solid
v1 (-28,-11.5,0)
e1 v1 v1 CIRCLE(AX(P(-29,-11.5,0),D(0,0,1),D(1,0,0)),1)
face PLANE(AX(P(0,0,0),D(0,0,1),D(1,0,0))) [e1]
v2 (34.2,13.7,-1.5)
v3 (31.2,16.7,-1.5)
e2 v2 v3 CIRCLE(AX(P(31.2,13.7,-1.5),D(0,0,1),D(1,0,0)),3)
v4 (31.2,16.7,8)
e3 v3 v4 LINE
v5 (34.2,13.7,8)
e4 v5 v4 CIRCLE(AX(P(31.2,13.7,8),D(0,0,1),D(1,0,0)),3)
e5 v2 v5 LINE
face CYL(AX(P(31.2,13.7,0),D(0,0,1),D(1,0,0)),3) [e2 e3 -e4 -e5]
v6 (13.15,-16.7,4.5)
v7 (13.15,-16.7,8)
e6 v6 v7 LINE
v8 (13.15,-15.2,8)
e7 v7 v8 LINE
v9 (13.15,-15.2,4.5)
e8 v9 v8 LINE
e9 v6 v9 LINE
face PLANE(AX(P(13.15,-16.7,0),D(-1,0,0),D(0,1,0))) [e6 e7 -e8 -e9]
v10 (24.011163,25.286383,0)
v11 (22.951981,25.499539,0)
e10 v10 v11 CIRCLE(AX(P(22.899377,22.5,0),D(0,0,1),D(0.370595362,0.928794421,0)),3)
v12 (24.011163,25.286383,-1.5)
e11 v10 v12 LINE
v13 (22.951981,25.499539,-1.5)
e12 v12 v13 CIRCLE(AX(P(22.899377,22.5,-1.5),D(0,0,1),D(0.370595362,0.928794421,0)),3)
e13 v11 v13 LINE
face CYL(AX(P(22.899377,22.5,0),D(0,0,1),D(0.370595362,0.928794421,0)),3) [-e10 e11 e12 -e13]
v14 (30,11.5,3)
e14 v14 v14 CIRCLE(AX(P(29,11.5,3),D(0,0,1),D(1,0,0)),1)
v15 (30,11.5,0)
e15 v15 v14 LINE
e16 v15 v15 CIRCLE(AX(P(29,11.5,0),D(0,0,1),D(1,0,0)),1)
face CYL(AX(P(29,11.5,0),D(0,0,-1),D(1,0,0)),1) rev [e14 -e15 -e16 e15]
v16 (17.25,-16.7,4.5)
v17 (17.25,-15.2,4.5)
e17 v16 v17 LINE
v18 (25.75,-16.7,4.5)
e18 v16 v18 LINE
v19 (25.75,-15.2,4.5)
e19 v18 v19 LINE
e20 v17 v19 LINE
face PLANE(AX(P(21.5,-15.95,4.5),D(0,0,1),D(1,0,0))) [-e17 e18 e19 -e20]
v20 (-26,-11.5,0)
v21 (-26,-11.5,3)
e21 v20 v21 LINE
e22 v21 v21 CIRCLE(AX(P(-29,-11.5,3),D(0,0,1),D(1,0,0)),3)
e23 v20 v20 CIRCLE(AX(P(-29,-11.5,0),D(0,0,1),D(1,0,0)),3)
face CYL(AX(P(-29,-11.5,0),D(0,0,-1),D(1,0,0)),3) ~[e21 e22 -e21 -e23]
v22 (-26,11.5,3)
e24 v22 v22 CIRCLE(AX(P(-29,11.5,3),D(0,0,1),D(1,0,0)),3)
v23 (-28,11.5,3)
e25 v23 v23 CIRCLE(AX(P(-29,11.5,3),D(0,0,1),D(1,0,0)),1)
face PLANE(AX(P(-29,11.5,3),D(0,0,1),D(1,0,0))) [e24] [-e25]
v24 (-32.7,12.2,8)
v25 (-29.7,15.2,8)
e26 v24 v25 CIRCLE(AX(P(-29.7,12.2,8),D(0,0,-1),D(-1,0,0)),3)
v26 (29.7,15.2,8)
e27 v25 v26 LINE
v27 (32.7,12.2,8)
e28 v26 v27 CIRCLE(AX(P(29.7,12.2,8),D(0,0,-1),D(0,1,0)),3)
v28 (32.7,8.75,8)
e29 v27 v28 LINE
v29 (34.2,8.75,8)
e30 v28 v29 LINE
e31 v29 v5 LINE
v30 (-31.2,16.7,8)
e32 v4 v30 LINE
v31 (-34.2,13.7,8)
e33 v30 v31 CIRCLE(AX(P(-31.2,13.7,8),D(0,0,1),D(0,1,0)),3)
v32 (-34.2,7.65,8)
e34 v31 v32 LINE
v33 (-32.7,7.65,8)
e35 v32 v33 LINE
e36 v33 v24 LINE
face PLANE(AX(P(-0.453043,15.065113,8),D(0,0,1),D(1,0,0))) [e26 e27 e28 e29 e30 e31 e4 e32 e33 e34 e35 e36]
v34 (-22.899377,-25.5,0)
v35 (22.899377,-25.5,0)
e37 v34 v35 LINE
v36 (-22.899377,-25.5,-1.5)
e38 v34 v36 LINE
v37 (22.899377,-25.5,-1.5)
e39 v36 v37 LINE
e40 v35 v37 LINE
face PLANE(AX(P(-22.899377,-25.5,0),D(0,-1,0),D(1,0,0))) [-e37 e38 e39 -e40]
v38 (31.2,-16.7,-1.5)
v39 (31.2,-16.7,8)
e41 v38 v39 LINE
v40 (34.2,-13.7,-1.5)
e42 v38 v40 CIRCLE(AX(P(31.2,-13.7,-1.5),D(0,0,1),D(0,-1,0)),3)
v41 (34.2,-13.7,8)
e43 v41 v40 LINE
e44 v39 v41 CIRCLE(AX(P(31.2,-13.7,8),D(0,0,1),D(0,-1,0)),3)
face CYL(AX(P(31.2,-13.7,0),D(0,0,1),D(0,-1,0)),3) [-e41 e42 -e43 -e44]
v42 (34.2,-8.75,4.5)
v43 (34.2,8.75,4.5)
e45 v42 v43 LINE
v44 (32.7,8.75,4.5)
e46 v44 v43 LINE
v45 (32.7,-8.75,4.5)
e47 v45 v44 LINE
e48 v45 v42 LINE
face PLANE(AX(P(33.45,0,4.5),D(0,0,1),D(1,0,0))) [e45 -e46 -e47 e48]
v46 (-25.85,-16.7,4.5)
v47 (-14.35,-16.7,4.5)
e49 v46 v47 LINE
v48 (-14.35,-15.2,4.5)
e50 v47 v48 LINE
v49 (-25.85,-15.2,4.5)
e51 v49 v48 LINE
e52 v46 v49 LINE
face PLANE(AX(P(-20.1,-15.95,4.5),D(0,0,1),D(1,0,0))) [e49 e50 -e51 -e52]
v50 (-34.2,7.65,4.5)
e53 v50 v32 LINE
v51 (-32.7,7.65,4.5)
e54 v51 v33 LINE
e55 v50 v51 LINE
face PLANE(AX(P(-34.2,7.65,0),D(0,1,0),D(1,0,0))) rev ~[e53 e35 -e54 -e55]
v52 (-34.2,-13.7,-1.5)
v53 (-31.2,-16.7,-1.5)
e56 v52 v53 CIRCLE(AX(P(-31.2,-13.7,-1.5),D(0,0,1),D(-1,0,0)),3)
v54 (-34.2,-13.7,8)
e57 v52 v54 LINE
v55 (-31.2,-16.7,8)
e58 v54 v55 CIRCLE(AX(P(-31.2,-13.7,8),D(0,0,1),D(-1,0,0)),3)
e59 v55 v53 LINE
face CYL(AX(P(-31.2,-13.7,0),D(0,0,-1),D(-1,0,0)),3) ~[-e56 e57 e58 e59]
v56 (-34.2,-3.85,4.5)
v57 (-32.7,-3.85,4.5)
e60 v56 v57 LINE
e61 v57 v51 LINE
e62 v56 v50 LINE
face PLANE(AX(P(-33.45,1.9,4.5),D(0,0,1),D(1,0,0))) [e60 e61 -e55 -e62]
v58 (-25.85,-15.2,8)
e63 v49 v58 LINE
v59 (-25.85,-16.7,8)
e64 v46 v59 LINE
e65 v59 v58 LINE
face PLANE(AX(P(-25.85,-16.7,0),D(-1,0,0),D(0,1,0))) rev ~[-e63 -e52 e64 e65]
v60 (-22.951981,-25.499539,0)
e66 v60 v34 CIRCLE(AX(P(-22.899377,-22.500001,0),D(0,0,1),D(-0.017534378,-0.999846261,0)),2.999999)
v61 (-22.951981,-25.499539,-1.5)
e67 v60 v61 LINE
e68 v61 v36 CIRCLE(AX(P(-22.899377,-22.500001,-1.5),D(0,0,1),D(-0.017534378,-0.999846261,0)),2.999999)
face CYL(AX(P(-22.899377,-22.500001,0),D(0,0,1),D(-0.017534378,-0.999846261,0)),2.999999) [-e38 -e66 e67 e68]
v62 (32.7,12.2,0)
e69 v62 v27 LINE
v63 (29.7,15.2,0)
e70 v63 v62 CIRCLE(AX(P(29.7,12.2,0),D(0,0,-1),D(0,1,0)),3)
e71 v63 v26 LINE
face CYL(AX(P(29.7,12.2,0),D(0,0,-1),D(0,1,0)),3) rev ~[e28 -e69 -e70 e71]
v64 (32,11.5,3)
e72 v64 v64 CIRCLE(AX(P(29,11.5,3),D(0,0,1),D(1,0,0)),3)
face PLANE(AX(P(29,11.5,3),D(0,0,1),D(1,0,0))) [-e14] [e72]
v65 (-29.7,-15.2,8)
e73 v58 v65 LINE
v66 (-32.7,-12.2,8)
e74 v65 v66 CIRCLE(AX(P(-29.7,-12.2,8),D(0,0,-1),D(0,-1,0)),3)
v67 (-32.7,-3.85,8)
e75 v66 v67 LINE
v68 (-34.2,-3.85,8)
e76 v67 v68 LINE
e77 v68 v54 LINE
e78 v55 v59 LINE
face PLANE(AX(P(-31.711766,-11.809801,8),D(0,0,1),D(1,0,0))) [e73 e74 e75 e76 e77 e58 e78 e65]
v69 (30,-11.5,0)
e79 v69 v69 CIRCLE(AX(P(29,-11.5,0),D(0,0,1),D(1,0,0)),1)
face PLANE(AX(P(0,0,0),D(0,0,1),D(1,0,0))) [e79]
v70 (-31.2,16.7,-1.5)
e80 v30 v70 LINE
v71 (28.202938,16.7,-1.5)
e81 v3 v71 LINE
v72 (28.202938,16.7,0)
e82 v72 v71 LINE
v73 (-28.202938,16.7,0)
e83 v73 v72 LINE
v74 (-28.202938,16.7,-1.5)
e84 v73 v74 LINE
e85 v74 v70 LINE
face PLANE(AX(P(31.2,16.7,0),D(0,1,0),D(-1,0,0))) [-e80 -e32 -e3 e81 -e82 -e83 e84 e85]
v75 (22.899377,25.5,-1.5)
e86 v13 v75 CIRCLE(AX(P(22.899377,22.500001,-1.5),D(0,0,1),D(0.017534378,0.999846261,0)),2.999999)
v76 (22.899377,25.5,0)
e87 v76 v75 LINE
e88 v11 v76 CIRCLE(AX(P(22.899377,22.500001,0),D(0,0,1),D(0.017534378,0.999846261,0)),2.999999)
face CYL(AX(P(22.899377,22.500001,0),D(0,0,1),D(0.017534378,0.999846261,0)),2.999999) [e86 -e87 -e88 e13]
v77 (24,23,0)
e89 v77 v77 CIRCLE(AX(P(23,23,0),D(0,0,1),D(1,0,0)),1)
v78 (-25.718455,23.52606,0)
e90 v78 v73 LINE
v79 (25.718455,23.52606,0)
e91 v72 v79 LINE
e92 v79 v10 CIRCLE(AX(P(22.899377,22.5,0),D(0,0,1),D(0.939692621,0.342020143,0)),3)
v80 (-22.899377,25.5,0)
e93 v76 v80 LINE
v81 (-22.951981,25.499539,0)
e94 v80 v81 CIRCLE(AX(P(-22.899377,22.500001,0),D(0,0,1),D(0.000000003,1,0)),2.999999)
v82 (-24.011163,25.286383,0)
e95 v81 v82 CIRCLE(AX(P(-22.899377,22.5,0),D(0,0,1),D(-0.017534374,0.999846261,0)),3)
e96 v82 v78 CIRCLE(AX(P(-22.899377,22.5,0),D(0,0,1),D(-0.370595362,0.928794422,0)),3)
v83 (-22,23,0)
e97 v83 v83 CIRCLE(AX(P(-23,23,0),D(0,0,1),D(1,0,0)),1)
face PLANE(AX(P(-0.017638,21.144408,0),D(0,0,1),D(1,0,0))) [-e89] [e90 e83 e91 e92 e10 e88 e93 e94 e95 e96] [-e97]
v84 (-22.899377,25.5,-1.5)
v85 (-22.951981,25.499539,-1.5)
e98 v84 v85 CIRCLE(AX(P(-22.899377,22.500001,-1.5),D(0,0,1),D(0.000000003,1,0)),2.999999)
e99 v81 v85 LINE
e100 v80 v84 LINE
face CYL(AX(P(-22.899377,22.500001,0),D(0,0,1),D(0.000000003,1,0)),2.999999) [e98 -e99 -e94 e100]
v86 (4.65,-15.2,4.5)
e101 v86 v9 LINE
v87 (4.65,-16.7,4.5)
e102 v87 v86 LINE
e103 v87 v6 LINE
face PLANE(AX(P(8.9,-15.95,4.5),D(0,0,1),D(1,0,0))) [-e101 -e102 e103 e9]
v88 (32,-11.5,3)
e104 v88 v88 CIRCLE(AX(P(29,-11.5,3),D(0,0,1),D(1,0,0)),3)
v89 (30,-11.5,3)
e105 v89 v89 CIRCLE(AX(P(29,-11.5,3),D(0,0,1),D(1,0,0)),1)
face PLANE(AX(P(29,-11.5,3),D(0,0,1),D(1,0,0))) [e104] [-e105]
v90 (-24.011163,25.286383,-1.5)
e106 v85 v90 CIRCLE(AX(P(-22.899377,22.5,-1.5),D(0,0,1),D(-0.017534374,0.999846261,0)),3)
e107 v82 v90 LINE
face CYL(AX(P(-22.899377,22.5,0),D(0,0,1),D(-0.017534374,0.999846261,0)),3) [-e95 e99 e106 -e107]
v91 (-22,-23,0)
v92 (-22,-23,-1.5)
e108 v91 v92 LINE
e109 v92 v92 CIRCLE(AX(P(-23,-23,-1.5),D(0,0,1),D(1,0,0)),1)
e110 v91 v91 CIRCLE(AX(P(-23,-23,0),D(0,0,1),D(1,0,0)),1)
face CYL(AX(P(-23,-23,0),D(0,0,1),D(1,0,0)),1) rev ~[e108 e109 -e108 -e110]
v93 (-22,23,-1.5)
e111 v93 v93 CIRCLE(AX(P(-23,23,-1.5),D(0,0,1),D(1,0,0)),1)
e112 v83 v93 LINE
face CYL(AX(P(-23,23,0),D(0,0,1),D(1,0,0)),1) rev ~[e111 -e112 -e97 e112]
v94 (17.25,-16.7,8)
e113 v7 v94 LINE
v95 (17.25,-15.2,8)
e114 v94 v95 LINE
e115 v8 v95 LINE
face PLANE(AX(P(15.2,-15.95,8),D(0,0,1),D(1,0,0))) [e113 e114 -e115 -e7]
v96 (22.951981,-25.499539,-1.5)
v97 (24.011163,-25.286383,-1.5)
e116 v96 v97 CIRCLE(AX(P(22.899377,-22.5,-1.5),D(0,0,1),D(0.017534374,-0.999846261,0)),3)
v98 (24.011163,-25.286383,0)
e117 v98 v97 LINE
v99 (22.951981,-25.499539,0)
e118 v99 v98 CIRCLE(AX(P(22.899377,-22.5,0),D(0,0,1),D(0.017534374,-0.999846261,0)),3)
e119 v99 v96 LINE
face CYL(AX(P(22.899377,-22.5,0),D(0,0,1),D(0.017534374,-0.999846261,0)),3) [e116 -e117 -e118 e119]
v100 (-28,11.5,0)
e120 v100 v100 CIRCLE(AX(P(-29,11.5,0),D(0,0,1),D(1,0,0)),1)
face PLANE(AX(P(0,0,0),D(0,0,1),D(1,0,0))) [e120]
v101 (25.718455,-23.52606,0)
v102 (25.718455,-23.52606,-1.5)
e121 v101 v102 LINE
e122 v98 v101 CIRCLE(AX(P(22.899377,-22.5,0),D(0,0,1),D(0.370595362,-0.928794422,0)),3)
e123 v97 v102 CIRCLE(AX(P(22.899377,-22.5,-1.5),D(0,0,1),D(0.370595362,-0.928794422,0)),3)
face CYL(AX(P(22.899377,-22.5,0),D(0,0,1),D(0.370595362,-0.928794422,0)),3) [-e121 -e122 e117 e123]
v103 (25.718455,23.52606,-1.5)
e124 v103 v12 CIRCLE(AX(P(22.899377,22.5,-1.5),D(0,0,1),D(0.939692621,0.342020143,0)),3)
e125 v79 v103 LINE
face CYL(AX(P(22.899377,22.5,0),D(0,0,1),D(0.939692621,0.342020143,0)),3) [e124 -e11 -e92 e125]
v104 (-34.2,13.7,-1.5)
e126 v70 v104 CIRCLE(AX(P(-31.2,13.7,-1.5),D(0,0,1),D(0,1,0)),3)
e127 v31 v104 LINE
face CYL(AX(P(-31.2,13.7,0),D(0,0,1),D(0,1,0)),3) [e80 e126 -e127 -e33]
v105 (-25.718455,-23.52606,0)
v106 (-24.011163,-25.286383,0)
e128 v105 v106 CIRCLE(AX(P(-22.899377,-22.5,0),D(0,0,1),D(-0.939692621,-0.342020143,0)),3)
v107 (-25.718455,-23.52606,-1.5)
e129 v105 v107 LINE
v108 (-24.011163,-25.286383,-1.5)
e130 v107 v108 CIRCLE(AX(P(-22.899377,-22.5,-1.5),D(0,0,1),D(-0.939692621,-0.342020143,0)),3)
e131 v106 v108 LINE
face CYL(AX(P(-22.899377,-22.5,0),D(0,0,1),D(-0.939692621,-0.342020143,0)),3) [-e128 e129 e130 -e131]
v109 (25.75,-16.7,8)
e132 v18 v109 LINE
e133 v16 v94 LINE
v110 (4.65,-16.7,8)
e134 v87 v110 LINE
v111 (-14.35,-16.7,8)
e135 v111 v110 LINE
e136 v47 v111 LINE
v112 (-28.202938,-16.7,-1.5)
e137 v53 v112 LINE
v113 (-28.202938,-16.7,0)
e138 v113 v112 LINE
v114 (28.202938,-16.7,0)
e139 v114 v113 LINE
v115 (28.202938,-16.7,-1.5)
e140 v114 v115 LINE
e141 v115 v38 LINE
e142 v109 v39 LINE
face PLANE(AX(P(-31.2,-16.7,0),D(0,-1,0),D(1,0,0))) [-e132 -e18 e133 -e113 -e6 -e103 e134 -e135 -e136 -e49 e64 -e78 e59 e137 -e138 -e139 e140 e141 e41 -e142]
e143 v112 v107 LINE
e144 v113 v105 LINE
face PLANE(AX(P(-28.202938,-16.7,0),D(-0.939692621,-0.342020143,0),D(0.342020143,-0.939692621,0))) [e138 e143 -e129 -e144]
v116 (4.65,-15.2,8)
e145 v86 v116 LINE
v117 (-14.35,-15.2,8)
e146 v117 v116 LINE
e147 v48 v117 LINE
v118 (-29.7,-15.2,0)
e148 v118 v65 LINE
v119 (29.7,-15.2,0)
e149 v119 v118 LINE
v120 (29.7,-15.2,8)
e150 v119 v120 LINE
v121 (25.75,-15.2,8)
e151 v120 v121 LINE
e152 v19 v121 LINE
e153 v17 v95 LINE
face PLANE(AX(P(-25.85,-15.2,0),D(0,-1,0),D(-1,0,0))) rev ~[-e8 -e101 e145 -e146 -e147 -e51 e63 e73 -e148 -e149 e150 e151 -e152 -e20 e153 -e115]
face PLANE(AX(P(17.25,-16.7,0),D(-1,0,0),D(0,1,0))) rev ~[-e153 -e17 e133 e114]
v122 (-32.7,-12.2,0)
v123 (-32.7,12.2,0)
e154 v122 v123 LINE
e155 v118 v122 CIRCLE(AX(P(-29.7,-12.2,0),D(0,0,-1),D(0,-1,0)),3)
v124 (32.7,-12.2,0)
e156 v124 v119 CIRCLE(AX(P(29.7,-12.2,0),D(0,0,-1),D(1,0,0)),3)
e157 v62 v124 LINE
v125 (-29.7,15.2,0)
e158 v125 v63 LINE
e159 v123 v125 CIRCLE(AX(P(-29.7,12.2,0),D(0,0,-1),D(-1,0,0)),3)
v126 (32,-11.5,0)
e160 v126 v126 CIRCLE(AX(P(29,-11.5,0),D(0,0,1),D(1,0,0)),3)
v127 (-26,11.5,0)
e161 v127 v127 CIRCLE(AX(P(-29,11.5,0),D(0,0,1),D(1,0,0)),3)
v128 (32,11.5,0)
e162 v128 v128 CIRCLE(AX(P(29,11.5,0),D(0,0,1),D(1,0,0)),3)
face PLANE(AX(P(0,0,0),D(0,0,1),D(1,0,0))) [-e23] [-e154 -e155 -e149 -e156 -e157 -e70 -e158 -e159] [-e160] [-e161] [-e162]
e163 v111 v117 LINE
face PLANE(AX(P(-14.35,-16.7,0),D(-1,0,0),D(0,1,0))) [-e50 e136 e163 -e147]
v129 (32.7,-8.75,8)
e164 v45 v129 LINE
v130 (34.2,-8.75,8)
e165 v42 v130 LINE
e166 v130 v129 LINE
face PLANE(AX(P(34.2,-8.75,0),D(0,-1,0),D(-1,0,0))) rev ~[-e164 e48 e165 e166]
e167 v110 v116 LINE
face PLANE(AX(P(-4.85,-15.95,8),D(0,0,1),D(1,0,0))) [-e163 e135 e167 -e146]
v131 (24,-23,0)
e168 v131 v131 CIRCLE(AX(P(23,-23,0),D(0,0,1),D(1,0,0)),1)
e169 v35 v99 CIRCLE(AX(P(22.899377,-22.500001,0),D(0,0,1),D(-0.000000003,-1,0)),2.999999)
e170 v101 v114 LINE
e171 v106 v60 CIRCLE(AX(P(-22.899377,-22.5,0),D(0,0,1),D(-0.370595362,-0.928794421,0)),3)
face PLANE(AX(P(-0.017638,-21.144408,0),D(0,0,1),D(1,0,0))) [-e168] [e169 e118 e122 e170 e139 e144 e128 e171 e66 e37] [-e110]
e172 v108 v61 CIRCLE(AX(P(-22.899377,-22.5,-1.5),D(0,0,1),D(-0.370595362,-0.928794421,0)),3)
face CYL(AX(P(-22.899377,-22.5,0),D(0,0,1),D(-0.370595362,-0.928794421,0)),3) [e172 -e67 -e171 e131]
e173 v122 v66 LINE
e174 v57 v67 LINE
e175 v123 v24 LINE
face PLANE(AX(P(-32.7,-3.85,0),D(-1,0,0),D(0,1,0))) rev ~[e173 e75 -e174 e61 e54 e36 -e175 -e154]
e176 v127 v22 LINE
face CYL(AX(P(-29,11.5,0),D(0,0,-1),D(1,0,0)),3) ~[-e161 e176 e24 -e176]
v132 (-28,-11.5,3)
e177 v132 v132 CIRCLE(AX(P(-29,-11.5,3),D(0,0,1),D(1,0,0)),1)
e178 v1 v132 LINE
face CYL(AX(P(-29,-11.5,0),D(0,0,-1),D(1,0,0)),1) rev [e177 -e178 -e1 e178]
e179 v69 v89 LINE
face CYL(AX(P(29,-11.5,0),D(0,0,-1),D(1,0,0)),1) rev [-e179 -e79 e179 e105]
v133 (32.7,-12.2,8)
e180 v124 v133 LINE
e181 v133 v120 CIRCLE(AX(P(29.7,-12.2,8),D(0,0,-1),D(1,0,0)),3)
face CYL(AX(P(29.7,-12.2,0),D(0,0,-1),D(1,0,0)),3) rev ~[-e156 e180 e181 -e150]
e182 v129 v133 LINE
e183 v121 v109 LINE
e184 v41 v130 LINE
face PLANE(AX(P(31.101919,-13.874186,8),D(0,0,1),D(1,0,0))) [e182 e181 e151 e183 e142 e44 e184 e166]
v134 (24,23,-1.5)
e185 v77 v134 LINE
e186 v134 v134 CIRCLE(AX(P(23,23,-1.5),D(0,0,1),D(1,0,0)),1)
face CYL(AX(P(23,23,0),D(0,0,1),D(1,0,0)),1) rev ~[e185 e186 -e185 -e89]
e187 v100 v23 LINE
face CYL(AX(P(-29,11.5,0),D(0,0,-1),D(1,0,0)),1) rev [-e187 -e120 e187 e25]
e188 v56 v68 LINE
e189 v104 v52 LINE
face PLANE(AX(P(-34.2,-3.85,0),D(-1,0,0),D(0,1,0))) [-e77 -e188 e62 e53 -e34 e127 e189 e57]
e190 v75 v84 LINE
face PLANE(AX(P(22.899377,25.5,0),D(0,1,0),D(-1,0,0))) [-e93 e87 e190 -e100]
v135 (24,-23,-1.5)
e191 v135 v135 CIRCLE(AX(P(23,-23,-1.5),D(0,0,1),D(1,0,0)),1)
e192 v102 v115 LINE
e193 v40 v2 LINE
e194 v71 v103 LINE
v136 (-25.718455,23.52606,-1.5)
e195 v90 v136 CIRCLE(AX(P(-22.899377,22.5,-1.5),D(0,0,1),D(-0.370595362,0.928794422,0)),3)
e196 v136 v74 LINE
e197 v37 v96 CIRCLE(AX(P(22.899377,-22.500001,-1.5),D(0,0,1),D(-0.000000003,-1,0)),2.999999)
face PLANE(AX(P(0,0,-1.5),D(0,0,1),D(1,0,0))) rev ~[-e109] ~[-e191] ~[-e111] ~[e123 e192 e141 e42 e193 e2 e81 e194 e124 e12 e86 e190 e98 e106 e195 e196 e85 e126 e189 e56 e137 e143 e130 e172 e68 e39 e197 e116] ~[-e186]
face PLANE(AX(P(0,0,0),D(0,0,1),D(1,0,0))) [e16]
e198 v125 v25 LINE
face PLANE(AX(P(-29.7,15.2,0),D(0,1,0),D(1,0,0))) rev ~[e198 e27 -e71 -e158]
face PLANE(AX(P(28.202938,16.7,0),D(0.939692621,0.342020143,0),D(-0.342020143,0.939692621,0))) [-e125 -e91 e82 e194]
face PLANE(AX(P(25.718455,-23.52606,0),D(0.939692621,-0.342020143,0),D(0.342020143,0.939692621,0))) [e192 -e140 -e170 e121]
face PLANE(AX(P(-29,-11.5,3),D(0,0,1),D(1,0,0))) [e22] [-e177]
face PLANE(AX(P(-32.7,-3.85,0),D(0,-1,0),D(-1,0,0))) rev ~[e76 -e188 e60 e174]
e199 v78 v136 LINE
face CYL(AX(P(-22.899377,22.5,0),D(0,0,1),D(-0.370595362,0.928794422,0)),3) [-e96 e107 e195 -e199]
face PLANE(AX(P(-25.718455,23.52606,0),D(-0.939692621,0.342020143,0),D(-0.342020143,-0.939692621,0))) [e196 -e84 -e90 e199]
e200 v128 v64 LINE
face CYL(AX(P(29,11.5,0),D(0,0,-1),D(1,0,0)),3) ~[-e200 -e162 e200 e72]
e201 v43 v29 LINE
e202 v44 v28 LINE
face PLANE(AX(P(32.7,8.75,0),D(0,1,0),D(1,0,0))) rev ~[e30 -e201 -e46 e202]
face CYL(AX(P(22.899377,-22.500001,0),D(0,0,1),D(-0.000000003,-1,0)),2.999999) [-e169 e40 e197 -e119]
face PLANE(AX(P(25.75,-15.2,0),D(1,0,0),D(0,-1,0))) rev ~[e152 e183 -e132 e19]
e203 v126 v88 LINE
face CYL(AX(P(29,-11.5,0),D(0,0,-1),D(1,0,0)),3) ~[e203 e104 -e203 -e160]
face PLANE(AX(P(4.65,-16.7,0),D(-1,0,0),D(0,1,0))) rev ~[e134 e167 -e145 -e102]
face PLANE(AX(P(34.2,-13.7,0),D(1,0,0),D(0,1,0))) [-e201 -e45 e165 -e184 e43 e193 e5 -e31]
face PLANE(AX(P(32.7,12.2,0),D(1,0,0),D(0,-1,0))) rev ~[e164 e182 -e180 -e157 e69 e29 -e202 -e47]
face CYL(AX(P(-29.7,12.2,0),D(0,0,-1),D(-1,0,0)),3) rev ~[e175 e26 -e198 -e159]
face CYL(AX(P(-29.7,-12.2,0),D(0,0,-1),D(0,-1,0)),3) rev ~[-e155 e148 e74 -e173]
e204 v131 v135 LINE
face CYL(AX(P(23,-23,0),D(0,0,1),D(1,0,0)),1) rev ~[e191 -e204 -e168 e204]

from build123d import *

# Parameters (mm, degrees)
F0_R     = 3
F0_W     = 19
F0_H     = 1.5
F0_R_2   = 1
F0_W_2   = 1.5
F0_H_2   = 17.5
F0_H_3   = 11.5
F0_W_3   = 11.5
F0_W_4   = 8.5
F0_W_5   = 4.1
F1_DEPTH = 1.5
F2_DEPTH = 3
F3_DEPTH = 8
F4_DEPTH = 4.5
F5_R     = 1
F6_DEPTH = 1.5


with BuildPart() as f1:
    # F0 (on Top) → F1 (new body)
    with BuildSketch(Plane.XY):
        with BuildLine():
            Line((29.7, 15.2), (-29.7, 15.2))
            ThreePointArc((-29.7, 15.2), (-31.8213203436, 14.3213203436), (-32.7, 12.2))
            Line((-32.7, 12.2), (-32.7, 7.65))
            Line((-32.7, 7.65), (-32.7, -3.85))
            Line((-32.7, -3.85), (-32.7, -12.2))
            ThreePointArc((-32.7, -12.2), (-31.8213203436, -14.3213203436), (-29.7, -15.2))
            Line((-29.7, -15.2), (-25.85, -15.2))
            Line((-25.85, -15.2), (-14.35, -15.2))
            Line((-14.35, -15.2), (4.65, -15.2))
            Line((4.65, -15.2), (13.15, -15.2))
            Line((13.15, -15.2), (17.25, -15.2))
            Line((17.25, -15.2), (25.75, -15.2))
            Line((25.75, -15.2), (29.7, -15.2))
            ThreePointArc((29.7, -15.2), (31.8213203436, -14.3213203436), (32.7, -12.2))
            Line((32.7, -12.2), (32.7, -8.75))
            Line((32.7, -8.75), (32.7, 8.75))
            Line((32.7, 8.75), (32.7, 12.2))
            ThreePointArc((32.7, 12.2), (31.8213203436, 14.3213203436), (29.7, 15.2))
        make_face()
        with Locations((-29, -11.5)):
            Circle(F0_R, mode=Mode.SUBTRACT)
        with Locations((29, -11.5)):
            Circle(F0_R, mode=Mode.SUBTRACT)
        with Locations((-29, 11.5)):
            Circle(F0_R, mode=Mode.SUBTRACT)
        with Locations((29, 11.5)):
            Circle(F0_R, mode=Mode.SUBTRACT)
        with BuildLine():
            ThreePointArc((-32.7, 12.2), (-31.8213203436, 14.3213203436), (-29.7, 15.2))
            Line((-29.7, 15.2), (29.7, 15.2))
            ThreePointArc((29.7, 15.2), (31.8213203436, 14.3213203436), (32.7, 12.2))
            Line((32.7, 12.2), (32.7, 8.75))
            Line((32.7, 8.75), (34.2, 8.75))
            Line((34.2, 8.75), (34.2, 13.7))
            ThreePointArc((34.2, 13.7), (33.3213203436, 15.8213203436), (31.2, 16.7))
            Line((31.2, 16.7), (-31.2, 16.7))
            ThreePointArc((-31.2, 16.7), (-33.3213203436, 15.8213203436), (-34.2, 13.7))
            Line((-34.2, 13.7), (-34.2, 7.65))
            Line((-34.2, 7.65), (-32.7, 7.65))
            Line((-32.7, 7.65), (-32.7, 12.2))
        make_face()
        with BuildLine():
            Line((-32.7, -12.2), (-32.7, -3.85))
            Line((-32.7, -3.85), (-34.2, -3.85))
            Line((-34.2, -3.85), (-34.2, -13.7))
            ThreePointArc((-34.2, -13.7), (-33.3213203436, -15.8213203436), (-31.2, -16.7))
            Line((-31.2, -16.7), (-25.85, -16.7))
            Line((-25.85, -16.7), (-25.85, -15.2))
            Line((-25.85, -15.2), (-29.7, -15.2))
            ThreePointArc((-29.7, -15.2), (-31.8213203436, -14.3213203436), (-32.7, -12.2))
        make_face()
        with Locations((-4.85, -15.95)):
            Rectangle(F0_W, F0_H)
        with Locations((-29, -11.5)):
            Circle(F0_R)
        with Locations((-29, -11.5)):
            Circle(F0_R_2, mode=Mode.SUBTRACT)
        with Locations((-29, 11.5)):
            Circle(F0_R)
        with Locations((-29, 11.5)):
            Circle(F0_R_2, mode=Mode.SUBTRACT)
        with Locations((29, -11.5)):
            Circle(F0_R)
        with Locations((29, -11.5)):
            Circle(F0_R_2, mode=Mode.SUBTRACT)
        with Locations((29, 11.5)):
            Circle(F0_R)
        with Locations((29, 11.5)):
            Circle(F0_R_2, mode=Mode.SUBTRACT)
        with Locations((33.45, 0)):
            Rectangle(F0_W_2, F0_H_2)
        with BuildLine():
            Line((34.2, -8.75), (32.7, -8.75))
            Line((32.7, -8.75), (32.7, -12.2))
            ThreePointArc((32.7, -12.2), (31.8213203436, -14.3213203436), (29.7, -15.2))
            Line((29.7, -15.2), (25.75, -15.2))
            Line((25.75, -15.2), (25.75, -16.7))
            Line((25.75, -16.7), (31.2, -16.7))
            ThreePointArc((31.2, -16.7), (33.3213203436, -15.8213203436), (34.2, -13.7))
            Line((34.2, -13.7), (34.2, -8.75))
        make_face()
        with Locations((-33.45, 1.9)):
            Rectangle(F0_W_2, F0_H_3)
        with Locations((-20.1, -15.95)):
            Rectangle(F0_W_3, F0_H)
        with Locations((21.5, -15.95)):
            Rectangle(F0_W_4, F0_H)
        with Locations((8.9, -15.95)):
            Rectangle(F0_W_4, F0_H)
        with Locations((15.2, -15.95)):
            Rectangle(F0_W_5, F0_H)
        with Locations((-29, -11.5)):
            Circle(F0_R_2)
        with Locations((-29, 11.5)):
            Circle(F0_R_2)
        with Locations((29, -11.5)):
            Circle(F0_R_2)
        with Locations((29, 11.5)):
            Circle(F0_R_2)
    extrude(amount=-F1_DEPTH)

    # F0 (on Top) → F2 (join)
    with BuildSketch(Plane.XY):
        with Locations((-29, 11.5)):
            Circle(F0_R)
        with Locations((-29, 11.5)):
            Circle(F0_R_2, mode=Mode.SUBTRACT)
        with Locations((-29, -11.5)):
            Circle(F0_R)
        with Locations((-29, -11.5)):
            Circle(F0_R_2, mode=Mode.SUBTRACT)
        with Locations((29, 11.5)):
            Circle(F0_R)
        with Locations((29, 11.5)):
            Circle(F0_R_2, mode=Mode.SUBTRACT)
        with Locations((29, -11.5)):
            Circle(F0_R)
        with Locations((29, -11.5)):
            Circle(F0_R_2, mode=Mode.SUBTRACT)
    extrude(amount=F2_DEPTH)

    # F0 (on Top) → F3 (join)
    with BuildSketch(Plane.XY):
        with BuildLine():
            Line((-32.7, -12.2), (-32.7, -3.85))
            Line((-32.7, -3.85), (-34.2, -3.85))
            Line((-34.2, -3.85), (-34.2, -13.7))
            ThreePointArc((-34.2, -13.7), (-33.3213203436, -15.8213203436), (-31.2, -16.7))
            Line((-31.2, -16.7), (-25.85, -16.7))
            Line((-25.85, -16.7), (-25.85, -15.2))
            Line((-25.85, -15.2), (-29.7, -15.2))
            ThreePointArc((-29.7, -15.2), (-31.8213203436, -14.3213203436), (-32.7, -12.2))
        make_face()
        with BuildLine():
            ThreePointArc((-32.7, 12.2), (-31.8213203436, 14.3213203436), (-29.7, 15.2))
            Line((-29.7, 15.2), (29.7, 15.2))
            ThreePointArc((29.7, 15.2), (31.8213203436, 14.3213203436), (32.7, 12.2))
            Line((32.7, 12.2), (32.7, 8.75))
            Line((32.7, 8.75), (34.2, 8.75))
            Line((34.2, 8.75), (34.2, 13.7))
            ThreePointArc((34.2, 13.7), (33.3213203436, 15.8213203436), (31.2, 16.7))
            Line((31.2, 16.7), (-31.2, 16.7))
            ThreePointArc((-31.2, 16.7), (-33.3213203436, 15.8213203436), (-34.2, 13.7))
            Line((-34.2, 13.7), (-34.2, 7.65))
            Line((-34.2, 7.65), (-32.7, 7.65))
            Line((-32.7, 7.65), (-32.7, 12.2))
        make_face()
        with Locations((-4.85, -15.95)):
            Rectangle(F0_W, F0_H)
        with Locations((15.2, -15.95)):
            Rectangle(F0_W_5, F0_H)
        with BuildLine():
            Line((34.2, -8.75), (32.7, -8.75))
            Line((32.7, -8.75), (32.7, -12.2))
            ThreePointArc((32.7, -12.2), (31.8213203436, -14.3213203436), (29.7, -15.2))
            Line((29.7, -15.2), (25.75, -15.2))
            Line((25.75, -15.2), (25.75, -16.7))
            Line((25.75, -16.7), (31.2, -16.7))
            ThreePointArc((31.2, -16.7), (33.3213203436, -15.8213203436), (34.2, -13.7))
            Line((34.2, -13.7), (34.2, -8.75))
        make_face()
    extrude(amount=F3_DEPTH)

    # F0 (on Top) → F4 (join)
    with BuildSketch(Plane.XY):
        with Locations((-33.45, 1.9)):
            Rectangle(F0_W_2, F0_H_3)
        with Locations((-20.1, -15.95)):
            Rectangle(F0_W_3, F0_H)
        with Locations((8.9, -15.95)):
            Rectangle(F0_W_4, F0_H)
        with Locations((21.5, -15.95)):
            Rectangle(F0_W_4, F0_H)
        with Locations((33.45, 0)):
            Rectangle(F0_W_2, F0_H_2)
    extrude(amount=F4_DEPTH)

    # F5 (on Top) → F6 (join)
    with BuildSketch(Plane.XY):
        with BuildLine():
            Line((28.2029380615, -16.7), (-28.2029380615, -16.7))
            Line((-28.2029380615, -16.7), (-25.7184552477, -23.52606043))
            ThreePointArc((-25.7184552477, -23.52606043), (-25.0528877677, -24.5886342507), (-24.0111634719, -25.2863832647))
            ThreePointArc((-24.0111634719, -25.2863832647), (-24.3642014734, -20.9050168641), (-20.5, -23))
            ThreePointArc((-20.5, -23), (-21.215336344, -24.7507071813), (-22.9519805079, -25.4995387831))
            ThreePointArc((-22.9519805079, -25.4995387831), (-22.9256799576, -25.4998846936), (-22.8993773854, -25.5))
            Line((-22.8993773854, -25.5), (22.8993773854, -25.5))
            ThreePointArc((22.8993773854, -25.5), (22.9256799576, -25.4998846936), (22.9519805079, -25.4995387831))
            ThreePointArc((22.9519805079, -25.4995387831), (21.2492928187, -21.215336344), (25.5, -23))
            ThreePointArc((25.5, -23), (25.0949831359, -24.3642014734), (24.0111634719, -25.2863832647))
            ThreePointArc((24.0111634719, -25.2863832647), (25.0528877677, -24.5886342507), (25.7184552477, -23.52606043))
            Line((25.7184552477, -23.52606043), (28.2029380615, -16.7))
        make_face()
        with BuildLine():
            ThreePointArc((-20.5, -23), (-24.3642014734, -20.9050168641), (-24.0111634719, -25.2863832647))
            ThreePointArc((-24.0111634719, -25.2863832647), (-23.4912467766, -25.441035638), (-22.9519805079, -25.4995387831))
            ThreePointArc((-22.9519805079, -25.4995387831), (-21.215336344, -24.7507071813), (-20.5, -23))
        make_face()
        with Locations((-23, -23)):
            Circle(F5_R, mode=Mode.SUBTRACT)
        with BuildLine():
            ThreePointArc((22.9519805079, -25.4995387831), (23.4912467766, -25.441035638), (24.0111634719, -25.2863832647))
            ThreePointArc((24.0111634719, -25.2863832647), (25.0949831359, -24.3642014734), (25.5, -23))
            ThreePointArc((25.5, -23), (21.2492928187, -21.215336344), (22.9519805079, -25.4995387831))
        make_face()
        with Locations((23, -23)):
            Circle(F5_R, mode=Mode.SUBTRACT)
        with BuildLine():
            Line((-25.7184552477, 23.52606043), (-28.2029380615, 16.7))
            Line((-28.2029380615, 16.7), (28.2029380615, 16.7))
            Line((28.2029380615, 16.7), (25.7184552477, 23.52606043))
            ThreePointArc((25.7184552477, 23.52606043), (25.0528877677, 24.5886342507), (24.0111634719, 25.2863832647))
            ThreePointArc((24.0111634719, 25.2863832647), (25.0949831359, 24.3642014734), (25.5, 23))
            ThreePointArc((25.5, 23), (21.2492928187, 21.215336344), (22.9519805079, 25.4995387831))
            ThreePointArc((22.9519805079, 25.4995387831), (22.9256799576, 25.4998846936), (22.8993773854, 25.5))
            Line((22.8993773854, 25.5), (-22.8993773854, 25.5))
            ThreePointArc((-22.8993773854, 25.5), (-22.9256799576, 25.4998846936), (-22.9519805079, 25.4995387831))
            ThreePointArc((-22.9519805079, 25.4995387831), (-21.215336344, 24.7507071813), (-20.5, 23))
            ThreePointArc((-20.5, 23), (-24.3642014734, 20.9050168641), (-24.0111634719, 25.2863832647))
            ThreePointArc((-24.0111634719, 25.2863832647), (-25.0528877677, 24.5886342507), (-25.7184552477, 23.52606043))
        make_face()
        with BuildLine():
            ThreePointArc((-22.9519805079, 25.4995387831), (-23.4912467766, 25.441035638), (-24.0111634719, 25.2863832647))
            ThreePointArc((-24.0111634719, 25.2863832647), (-24.3642014734, 20.9050168641), (-20.5, 23))
            ThreePointArc((-20.5, 23), (-21.215336344, 24.7507071813), (-22.9519805079, 25.4995387831))
        make_face()
        with Locations((-23, 23)):
            Circle(F5_R, mode=Mode.SUBTRACT)
        with BuildLine():
            ThreePointArc((25.5, 23), (25.0949831359, 24.3642014734), (24.0111634719, 25.2863832647))
            ThreePointArc((24.0111634719, 25.2863832647), (23.4912467766, 25.441035638), (22.9519805079, 25.4995387831))
            ThreePointArc((22.9519805079, 25.4995387831), (21.2492928187, 21.215336344), (25.5, 23))
        make_face()
        with Locations((23, 23)):
            Circle(F5_R, mode=Mode.SUBTRACT)
    extrude(amount=-F6_DEPTH)


solid = f1.part
